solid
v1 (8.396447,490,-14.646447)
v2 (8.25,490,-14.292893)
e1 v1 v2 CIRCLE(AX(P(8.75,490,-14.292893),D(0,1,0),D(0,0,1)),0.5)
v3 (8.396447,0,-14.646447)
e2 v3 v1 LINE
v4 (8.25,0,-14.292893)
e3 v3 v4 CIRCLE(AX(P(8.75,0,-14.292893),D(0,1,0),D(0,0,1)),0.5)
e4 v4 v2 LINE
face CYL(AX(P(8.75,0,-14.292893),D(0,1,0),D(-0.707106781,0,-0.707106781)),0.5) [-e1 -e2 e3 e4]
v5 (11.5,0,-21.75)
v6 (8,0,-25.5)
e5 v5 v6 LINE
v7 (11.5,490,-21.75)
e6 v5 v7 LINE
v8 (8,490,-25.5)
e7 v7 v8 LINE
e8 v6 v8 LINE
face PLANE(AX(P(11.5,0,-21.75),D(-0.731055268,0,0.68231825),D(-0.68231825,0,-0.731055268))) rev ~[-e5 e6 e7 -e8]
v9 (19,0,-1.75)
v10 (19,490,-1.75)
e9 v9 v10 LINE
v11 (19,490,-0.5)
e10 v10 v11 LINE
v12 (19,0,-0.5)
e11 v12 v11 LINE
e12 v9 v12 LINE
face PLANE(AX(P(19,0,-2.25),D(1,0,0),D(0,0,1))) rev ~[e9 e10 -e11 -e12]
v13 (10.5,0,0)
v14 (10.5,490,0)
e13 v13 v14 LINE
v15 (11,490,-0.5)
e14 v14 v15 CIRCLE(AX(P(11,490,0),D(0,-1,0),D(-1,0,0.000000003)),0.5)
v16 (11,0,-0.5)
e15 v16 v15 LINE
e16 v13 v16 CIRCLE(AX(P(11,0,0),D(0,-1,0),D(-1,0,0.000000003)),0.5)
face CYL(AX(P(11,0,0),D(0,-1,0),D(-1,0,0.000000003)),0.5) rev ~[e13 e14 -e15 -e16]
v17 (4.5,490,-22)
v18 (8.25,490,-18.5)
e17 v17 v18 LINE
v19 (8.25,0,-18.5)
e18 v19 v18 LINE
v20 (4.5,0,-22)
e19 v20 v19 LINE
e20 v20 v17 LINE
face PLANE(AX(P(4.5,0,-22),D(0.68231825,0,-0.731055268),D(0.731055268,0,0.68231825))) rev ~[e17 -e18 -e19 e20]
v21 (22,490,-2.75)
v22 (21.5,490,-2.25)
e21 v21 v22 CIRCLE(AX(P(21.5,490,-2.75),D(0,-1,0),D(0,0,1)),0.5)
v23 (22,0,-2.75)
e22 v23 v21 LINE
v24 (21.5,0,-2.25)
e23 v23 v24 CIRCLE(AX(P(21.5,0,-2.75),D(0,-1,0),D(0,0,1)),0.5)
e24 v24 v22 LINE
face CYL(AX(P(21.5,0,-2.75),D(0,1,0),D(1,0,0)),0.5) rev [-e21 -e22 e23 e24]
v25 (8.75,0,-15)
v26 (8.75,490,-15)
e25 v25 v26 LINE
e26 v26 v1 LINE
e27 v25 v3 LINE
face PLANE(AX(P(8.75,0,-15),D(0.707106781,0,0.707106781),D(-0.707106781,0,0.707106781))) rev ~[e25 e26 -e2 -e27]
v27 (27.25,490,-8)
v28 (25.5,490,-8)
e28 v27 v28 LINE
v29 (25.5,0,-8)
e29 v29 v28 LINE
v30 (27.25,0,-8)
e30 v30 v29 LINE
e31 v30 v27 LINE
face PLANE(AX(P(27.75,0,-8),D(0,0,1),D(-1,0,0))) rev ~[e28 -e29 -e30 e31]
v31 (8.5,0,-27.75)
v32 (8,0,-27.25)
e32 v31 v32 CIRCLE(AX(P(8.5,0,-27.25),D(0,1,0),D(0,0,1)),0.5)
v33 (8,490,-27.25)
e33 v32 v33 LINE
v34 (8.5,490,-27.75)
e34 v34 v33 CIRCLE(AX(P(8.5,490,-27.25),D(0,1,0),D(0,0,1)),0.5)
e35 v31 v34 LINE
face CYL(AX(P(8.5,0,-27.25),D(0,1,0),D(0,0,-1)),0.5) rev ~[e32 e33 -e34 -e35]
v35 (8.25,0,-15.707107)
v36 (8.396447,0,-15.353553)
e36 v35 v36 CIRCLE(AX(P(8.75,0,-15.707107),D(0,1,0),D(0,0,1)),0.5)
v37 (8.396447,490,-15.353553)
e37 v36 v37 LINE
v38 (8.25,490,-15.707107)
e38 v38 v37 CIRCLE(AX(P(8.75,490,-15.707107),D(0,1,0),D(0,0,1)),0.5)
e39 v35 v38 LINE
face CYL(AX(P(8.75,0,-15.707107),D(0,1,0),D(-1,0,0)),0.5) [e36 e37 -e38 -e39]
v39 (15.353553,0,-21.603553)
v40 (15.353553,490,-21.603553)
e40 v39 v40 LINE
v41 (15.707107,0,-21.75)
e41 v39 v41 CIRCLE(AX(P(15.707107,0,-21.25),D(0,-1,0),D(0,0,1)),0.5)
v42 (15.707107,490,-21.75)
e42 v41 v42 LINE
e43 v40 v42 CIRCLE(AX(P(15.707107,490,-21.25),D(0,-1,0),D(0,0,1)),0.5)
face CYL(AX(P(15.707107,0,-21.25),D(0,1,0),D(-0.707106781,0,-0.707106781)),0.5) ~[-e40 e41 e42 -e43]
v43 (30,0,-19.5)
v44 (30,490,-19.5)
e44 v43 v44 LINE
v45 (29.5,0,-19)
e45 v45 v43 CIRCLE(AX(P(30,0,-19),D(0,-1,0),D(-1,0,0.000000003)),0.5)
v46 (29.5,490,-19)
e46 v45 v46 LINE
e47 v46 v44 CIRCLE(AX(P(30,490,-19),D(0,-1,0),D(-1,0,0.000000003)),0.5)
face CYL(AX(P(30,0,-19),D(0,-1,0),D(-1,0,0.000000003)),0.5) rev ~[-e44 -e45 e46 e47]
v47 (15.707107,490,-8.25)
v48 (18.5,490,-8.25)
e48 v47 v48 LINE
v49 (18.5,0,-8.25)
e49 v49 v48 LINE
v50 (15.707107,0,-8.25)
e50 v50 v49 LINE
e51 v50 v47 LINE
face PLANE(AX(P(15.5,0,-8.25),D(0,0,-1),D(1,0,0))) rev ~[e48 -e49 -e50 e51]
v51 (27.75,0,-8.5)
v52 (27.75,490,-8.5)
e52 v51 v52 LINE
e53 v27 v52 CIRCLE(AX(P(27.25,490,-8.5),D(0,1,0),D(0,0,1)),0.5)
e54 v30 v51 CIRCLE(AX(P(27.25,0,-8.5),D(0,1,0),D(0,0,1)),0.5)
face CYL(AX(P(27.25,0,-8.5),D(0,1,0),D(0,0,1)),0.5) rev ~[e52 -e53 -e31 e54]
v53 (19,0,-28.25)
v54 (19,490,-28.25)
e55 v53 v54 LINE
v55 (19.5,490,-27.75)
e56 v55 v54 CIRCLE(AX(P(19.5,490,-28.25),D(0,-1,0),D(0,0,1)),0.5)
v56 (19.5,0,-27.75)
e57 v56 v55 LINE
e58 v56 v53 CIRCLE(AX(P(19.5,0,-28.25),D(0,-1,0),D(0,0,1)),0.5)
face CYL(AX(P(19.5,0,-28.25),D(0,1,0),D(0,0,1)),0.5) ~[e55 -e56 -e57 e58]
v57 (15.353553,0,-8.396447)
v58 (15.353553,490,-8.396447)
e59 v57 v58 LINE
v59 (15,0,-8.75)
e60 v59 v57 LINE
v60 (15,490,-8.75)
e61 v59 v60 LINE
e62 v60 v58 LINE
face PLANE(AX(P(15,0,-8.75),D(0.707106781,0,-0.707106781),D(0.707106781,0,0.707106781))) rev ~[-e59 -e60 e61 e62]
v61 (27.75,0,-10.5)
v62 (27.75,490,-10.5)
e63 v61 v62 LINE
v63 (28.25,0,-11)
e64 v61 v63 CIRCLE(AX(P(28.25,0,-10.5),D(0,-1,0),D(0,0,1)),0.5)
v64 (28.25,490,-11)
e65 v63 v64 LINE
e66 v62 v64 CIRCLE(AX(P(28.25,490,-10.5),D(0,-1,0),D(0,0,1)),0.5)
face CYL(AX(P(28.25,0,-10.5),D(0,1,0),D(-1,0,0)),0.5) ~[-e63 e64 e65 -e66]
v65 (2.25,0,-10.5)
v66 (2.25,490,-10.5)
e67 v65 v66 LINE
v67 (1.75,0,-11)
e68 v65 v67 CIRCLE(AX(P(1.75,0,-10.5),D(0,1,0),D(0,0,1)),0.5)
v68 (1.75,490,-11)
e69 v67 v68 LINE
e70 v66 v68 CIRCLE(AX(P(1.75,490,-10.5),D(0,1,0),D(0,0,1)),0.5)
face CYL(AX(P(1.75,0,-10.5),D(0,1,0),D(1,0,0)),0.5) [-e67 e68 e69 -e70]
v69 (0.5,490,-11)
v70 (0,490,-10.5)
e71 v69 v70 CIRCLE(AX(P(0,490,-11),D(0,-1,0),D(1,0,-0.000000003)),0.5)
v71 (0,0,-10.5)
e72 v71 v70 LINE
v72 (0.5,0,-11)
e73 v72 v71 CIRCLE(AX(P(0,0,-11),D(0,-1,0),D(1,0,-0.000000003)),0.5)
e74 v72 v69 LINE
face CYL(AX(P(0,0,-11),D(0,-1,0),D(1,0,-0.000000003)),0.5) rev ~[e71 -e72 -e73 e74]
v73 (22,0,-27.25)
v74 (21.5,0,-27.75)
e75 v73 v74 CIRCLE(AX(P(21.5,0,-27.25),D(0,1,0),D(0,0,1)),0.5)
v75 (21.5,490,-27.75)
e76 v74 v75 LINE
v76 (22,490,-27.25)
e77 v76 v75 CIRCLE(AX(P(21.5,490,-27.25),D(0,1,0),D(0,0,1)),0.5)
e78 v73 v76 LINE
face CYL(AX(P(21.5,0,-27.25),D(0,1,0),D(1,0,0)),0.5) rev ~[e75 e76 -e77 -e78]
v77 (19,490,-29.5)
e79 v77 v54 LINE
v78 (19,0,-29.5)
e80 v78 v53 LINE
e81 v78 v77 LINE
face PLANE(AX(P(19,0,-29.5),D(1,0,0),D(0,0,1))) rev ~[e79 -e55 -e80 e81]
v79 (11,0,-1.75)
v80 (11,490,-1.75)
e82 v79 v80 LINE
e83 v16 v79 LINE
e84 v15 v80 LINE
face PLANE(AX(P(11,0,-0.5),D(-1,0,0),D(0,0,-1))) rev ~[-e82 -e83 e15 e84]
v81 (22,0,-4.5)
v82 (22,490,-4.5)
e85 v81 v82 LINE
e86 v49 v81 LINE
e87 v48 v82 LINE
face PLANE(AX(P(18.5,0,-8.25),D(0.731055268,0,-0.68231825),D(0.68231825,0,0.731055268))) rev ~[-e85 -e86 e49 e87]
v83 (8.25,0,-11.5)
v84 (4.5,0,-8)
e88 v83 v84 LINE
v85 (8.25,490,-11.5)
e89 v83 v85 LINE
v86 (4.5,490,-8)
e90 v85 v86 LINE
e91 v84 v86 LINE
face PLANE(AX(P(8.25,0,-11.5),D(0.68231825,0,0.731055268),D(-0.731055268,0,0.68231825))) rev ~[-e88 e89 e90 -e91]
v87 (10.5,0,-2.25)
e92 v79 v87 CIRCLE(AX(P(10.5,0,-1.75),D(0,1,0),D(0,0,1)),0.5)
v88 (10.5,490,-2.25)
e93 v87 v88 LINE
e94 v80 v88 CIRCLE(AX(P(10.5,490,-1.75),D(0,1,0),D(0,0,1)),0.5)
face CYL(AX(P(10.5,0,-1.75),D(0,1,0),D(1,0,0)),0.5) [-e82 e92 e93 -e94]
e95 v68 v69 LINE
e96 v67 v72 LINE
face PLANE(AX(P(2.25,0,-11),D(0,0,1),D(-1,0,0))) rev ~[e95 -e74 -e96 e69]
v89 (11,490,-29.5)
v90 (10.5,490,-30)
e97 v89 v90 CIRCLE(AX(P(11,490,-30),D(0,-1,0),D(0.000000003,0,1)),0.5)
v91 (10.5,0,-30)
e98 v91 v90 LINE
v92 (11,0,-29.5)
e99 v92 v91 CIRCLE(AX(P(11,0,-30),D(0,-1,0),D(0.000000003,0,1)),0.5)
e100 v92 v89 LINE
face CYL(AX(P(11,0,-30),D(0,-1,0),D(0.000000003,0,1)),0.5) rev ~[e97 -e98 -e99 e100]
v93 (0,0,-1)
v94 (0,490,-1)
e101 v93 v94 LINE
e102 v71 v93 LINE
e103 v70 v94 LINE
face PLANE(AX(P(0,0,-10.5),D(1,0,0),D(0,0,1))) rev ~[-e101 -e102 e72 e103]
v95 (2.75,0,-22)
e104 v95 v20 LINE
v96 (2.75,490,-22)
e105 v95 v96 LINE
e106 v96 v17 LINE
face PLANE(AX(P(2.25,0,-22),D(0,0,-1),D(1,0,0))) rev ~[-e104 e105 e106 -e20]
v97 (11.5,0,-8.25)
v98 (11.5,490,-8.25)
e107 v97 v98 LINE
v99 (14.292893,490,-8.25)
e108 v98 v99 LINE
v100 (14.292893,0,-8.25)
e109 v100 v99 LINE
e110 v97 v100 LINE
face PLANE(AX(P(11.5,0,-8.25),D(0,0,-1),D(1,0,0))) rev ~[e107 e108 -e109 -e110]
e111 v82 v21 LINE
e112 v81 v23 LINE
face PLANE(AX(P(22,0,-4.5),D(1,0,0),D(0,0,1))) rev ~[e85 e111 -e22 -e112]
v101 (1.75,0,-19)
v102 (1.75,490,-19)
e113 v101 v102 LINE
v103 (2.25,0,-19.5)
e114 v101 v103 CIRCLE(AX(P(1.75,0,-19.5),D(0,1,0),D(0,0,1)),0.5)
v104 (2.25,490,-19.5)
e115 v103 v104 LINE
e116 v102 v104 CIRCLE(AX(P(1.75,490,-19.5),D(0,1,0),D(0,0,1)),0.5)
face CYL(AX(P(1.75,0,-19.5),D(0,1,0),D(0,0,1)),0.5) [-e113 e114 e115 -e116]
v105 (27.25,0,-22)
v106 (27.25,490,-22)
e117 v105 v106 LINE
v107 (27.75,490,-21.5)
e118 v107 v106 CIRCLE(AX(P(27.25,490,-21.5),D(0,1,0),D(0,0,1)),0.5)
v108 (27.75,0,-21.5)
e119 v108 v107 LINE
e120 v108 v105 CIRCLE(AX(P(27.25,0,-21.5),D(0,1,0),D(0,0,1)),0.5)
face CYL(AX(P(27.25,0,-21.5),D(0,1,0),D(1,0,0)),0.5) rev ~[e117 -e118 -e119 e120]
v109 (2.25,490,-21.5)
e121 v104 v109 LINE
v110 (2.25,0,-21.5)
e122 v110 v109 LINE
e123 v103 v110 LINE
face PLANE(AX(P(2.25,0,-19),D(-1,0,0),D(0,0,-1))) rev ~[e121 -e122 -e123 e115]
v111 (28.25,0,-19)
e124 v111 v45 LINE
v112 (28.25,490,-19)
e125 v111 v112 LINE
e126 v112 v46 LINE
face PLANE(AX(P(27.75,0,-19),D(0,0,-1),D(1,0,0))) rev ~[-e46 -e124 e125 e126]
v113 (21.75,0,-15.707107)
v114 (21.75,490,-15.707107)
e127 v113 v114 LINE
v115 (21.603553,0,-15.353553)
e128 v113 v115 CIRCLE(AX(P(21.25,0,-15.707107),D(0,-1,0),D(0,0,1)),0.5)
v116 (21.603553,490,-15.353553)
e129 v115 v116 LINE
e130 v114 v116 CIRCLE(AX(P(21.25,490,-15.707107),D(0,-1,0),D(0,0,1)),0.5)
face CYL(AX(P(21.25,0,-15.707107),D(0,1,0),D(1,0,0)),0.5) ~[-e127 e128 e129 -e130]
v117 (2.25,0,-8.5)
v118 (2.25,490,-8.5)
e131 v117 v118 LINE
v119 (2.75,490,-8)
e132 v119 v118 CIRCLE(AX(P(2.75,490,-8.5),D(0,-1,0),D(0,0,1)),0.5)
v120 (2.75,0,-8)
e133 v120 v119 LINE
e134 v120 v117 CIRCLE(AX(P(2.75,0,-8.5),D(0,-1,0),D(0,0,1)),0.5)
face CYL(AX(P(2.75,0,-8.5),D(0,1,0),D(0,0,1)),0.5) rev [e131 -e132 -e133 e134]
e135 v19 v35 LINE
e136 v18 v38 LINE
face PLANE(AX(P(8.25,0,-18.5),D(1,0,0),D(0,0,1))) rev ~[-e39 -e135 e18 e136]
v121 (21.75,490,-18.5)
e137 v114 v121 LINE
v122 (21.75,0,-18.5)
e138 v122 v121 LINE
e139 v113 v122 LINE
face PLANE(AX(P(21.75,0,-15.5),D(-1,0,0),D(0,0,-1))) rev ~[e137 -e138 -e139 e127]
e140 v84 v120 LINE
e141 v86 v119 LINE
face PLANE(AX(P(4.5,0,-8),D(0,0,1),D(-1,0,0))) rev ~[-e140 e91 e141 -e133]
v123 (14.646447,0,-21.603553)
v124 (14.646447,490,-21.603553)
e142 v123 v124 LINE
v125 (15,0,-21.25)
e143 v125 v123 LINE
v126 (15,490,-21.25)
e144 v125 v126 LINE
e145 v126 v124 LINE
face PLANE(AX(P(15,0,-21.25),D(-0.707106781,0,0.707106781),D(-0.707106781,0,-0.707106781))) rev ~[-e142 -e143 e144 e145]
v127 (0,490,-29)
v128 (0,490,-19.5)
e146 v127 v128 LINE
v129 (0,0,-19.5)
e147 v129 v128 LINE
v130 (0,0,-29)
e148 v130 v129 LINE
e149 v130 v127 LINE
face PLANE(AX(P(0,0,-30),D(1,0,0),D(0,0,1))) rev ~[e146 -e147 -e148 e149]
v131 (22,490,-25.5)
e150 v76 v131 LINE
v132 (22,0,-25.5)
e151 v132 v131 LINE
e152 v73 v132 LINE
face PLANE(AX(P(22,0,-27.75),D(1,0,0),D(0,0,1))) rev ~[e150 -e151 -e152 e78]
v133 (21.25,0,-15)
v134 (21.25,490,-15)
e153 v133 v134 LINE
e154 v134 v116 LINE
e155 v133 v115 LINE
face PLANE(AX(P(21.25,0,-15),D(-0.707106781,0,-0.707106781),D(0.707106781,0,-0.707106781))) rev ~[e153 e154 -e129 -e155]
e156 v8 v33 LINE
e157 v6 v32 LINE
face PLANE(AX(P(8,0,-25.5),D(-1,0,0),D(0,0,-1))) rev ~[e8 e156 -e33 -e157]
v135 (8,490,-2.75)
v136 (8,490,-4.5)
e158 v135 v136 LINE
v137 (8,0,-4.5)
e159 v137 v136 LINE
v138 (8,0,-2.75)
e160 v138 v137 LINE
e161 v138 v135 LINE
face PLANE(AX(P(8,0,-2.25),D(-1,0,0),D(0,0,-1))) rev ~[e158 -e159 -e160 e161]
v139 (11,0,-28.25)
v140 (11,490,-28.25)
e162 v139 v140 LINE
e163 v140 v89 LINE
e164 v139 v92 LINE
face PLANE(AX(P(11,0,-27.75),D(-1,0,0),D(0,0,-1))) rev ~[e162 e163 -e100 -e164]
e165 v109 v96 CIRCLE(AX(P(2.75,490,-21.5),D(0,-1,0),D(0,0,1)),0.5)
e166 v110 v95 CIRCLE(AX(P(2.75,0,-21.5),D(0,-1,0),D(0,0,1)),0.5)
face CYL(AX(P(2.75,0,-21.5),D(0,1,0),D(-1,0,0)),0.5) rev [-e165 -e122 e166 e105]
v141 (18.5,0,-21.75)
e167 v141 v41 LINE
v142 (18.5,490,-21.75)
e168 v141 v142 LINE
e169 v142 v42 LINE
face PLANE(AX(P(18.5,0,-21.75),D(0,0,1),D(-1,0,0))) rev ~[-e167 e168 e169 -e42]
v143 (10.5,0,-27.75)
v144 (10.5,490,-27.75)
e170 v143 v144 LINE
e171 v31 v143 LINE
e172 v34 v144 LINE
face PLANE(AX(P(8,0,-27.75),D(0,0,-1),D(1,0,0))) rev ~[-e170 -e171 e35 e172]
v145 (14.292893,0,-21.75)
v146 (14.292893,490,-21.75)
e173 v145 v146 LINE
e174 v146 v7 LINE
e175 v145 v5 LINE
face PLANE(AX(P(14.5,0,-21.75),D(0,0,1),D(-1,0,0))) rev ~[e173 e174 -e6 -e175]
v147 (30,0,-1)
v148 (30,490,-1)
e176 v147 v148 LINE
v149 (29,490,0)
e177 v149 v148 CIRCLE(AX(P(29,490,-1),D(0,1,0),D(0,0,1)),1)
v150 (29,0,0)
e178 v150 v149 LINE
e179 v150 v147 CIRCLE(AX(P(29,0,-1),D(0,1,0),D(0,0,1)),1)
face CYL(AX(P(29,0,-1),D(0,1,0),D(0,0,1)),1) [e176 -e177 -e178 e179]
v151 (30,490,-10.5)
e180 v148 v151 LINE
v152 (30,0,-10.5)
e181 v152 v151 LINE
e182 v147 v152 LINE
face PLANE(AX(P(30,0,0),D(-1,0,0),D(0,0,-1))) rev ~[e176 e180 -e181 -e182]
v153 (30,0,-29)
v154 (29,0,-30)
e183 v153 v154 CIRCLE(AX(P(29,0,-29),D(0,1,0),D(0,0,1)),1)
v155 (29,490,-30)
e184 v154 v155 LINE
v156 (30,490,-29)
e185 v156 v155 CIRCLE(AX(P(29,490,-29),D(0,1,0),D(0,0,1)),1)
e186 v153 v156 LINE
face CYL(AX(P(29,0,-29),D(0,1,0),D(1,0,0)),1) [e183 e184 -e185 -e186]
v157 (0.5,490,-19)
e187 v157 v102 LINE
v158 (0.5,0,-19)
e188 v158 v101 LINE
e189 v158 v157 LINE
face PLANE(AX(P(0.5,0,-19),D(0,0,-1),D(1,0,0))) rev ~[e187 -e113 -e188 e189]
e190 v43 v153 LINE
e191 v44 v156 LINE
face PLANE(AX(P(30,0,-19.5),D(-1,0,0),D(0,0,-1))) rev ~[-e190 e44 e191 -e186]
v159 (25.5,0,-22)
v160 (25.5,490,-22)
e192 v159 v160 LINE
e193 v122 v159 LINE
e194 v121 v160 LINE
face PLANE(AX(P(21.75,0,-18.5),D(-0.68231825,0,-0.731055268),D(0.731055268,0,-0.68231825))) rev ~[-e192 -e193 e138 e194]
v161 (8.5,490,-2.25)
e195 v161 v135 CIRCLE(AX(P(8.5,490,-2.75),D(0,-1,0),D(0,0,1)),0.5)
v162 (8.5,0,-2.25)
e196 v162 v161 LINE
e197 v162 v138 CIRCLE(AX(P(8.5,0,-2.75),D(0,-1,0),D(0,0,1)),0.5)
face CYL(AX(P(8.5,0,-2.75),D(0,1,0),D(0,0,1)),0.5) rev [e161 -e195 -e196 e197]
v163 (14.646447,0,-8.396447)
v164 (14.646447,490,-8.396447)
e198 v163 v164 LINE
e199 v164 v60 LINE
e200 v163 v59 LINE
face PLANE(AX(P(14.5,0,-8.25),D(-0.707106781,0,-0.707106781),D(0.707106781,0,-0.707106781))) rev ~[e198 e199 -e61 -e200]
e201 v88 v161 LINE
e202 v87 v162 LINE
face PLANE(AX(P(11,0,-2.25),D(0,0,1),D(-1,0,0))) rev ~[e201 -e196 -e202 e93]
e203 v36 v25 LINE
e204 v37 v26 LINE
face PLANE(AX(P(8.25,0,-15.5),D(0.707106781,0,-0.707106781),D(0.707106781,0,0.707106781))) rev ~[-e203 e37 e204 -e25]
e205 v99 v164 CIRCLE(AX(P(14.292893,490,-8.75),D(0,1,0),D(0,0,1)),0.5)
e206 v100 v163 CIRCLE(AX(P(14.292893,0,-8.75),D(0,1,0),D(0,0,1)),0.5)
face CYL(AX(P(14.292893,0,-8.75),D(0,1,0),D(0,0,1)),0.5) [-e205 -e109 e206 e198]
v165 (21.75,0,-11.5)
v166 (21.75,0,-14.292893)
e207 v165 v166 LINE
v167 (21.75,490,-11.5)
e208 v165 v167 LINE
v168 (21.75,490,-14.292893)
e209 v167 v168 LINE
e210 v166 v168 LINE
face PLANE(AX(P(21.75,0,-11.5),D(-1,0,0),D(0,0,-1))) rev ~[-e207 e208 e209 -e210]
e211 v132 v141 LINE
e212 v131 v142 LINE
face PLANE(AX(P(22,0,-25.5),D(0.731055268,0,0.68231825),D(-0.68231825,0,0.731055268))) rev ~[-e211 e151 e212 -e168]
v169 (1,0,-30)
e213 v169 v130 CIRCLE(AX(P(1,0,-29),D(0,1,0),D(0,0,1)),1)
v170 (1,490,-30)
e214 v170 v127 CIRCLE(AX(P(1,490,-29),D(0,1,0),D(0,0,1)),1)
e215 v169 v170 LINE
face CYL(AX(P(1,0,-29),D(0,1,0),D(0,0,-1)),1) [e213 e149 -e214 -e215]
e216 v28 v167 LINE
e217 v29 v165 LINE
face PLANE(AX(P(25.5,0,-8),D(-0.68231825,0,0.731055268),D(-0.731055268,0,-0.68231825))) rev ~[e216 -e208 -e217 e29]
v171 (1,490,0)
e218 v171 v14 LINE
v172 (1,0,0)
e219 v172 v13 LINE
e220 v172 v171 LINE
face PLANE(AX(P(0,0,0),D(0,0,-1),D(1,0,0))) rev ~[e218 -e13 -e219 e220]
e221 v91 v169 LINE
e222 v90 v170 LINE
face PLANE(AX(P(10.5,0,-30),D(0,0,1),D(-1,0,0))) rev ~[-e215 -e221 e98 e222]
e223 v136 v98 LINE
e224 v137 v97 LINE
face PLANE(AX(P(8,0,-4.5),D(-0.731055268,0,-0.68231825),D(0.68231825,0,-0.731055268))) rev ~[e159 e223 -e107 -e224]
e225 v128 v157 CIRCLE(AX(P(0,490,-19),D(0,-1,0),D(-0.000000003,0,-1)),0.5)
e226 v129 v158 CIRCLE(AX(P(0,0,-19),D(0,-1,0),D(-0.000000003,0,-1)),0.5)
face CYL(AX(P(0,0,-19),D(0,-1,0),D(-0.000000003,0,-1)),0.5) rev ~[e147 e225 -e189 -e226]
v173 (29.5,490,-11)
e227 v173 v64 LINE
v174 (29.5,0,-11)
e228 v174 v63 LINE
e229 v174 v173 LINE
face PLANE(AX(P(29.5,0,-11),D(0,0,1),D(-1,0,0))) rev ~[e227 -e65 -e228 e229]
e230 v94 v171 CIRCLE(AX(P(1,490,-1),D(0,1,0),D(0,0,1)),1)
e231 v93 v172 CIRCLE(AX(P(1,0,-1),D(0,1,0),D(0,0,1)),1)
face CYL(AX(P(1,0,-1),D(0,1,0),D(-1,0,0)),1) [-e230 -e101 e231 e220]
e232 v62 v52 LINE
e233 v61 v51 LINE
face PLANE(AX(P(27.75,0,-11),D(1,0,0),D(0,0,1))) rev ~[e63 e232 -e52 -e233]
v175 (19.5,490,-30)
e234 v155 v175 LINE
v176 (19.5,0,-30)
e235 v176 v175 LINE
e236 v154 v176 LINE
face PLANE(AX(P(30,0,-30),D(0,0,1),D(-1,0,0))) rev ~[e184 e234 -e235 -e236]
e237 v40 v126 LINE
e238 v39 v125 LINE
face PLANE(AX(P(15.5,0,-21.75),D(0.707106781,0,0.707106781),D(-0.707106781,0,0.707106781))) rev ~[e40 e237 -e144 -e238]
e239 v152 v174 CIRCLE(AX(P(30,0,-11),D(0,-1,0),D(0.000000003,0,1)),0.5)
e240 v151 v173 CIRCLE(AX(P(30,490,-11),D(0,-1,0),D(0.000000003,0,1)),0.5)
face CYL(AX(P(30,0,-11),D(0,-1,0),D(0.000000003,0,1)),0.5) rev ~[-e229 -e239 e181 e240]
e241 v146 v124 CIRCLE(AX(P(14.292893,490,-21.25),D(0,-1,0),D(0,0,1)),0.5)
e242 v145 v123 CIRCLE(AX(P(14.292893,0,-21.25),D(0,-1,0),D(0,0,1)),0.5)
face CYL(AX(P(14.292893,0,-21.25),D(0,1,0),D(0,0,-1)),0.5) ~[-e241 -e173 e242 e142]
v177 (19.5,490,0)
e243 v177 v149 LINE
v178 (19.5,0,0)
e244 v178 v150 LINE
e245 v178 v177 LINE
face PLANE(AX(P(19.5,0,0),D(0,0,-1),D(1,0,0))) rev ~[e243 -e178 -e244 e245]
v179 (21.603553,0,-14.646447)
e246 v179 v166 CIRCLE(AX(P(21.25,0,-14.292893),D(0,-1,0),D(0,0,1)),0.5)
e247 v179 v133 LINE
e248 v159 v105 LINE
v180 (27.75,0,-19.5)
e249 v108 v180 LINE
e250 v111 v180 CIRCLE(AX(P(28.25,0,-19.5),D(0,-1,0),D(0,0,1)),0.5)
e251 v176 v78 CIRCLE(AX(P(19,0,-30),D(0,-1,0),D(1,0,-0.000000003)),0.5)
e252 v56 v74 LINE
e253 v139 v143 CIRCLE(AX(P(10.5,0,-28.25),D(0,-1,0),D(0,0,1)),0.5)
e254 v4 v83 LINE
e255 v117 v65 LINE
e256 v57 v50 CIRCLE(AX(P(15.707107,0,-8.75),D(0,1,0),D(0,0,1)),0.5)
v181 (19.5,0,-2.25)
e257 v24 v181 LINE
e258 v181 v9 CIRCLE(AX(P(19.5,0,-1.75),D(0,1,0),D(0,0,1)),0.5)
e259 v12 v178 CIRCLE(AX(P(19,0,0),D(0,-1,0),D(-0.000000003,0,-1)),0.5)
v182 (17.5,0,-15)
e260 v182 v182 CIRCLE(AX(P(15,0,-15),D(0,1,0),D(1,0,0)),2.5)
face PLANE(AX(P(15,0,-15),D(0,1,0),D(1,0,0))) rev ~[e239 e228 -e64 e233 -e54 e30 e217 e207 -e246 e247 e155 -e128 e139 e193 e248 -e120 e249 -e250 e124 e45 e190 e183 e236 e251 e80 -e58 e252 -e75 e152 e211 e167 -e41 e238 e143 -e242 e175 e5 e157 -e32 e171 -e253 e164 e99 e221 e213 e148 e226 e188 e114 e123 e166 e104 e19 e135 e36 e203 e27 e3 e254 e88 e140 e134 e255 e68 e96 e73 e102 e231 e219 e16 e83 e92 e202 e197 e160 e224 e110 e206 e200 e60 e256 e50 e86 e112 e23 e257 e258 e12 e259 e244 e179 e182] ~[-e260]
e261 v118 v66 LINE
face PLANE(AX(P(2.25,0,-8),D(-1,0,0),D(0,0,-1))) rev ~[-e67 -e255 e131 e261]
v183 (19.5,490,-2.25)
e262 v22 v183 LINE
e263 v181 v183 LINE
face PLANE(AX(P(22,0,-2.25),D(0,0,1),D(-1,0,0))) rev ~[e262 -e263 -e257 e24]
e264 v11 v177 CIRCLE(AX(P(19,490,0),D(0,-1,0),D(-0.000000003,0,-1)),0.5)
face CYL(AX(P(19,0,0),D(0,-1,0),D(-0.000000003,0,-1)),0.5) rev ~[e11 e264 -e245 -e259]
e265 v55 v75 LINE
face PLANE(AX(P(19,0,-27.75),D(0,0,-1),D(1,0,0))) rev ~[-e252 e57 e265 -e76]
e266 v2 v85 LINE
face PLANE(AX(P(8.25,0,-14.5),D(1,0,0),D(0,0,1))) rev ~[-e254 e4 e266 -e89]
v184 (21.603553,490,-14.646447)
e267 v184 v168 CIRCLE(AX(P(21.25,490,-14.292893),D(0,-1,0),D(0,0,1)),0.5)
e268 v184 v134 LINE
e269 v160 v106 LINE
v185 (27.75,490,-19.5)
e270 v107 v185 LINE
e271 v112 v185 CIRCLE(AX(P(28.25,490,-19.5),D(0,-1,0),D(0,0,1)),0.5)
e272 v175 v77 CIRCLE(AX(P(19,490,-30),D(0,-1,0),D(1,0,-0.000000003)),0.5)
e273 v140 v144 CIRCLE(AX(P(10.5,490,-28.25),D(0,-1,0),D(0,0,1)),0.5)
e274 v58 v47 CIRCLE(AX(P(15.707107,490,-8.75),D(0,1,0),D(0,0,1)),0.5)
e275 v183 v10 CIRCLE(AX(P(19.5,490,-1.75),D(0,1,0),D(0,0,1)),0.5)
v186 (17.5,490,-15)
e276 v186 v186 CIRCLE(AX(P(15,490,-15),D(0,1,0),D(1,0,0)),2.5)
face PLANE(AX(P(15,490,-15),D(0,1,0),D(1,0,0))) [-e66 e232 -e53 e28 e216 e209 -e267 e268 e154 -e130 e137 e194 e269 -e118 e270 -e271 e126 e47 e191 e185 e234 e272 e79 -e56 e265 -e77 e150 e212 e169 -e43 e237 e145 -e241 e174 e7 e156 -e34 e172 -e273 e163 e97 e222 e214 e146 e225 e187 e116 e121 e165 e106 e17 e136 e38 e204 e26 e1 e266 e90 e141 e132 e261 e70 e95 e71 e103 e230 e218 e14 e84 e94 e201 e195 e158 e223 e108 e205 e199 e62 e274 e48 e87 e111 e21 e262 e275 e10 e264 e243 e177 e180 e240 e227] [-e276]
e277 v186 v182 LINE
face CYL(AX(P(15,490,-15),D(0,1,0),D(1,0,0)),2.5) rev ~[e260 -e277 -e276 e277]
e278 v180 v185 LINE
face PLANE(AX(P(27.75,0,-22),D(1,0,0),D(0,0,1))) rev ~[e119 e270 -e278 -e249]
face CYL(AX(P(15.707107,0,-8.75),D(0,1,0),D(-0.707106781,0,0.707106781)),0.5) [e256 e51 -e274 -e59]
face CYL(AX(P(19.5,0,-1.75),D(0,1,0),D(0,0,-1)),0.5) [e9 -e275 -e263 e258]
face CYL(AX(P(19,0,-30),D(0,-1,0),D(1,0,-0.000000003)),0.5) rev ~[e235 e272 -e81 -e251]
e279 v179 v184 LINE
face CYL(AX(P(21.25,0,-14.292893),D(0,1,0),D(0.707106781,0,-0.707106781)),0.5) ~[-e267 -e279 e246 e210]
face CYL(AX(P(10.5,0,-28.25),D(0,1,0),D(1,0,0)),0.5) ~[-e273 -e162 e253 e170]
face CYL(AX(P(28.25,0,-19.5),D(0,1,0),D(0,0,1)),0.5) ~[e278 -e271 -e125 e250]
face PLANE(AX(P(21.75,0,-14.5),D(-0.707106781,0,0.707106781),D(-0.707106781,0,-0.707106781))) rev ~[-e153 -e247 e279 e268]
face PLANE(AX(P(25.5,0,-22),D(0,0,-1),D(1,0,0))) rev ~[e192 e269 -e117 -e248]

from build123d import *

# Parameters (mm, degrees)
BOSS_EXTRUDE1_DEPTH = 490
FILLET1_R           = 1
SKETCH4_R           = 2.5
CUT_EXTRUDE1_DEPTH  = 491
FILLET2_R           = 0.5


with BuildPart() as part:
    # Sketch3 → Boss-Extrude1 (new body)
    with BuildSketch(Plane(origin=(0, 0, 0), x_dir=(1, 0, 0), z_dir=(0, 1, 0))):
        with BuildLine():
            Line((11, 27.75), (11, 29.5))
            ThreePointArc((11, 29.5), (10.646446609, 29.646446609), (10.5, 30))
            Line((10.5, 30), (0, 30))
            Line((0, 30), (0, 19.5))
            ThreePointArc((0, 19.5), (0.353553391, 19.353553391), (0.5, 19))
            Line((0.5, 19), (2.25, 19))
            Line((2.25, 19), (2.25, 22))
            Line((2.25, 22), (4.5, 22))
            Line((4.5, 22), (8.25, 18.5))
            Line((8.25, 18.5), (8.25, 15.5))
            Line((8.25, 15.5), (8.75, 15))
            Line((8.75, 15), (8.25, 14.5))
            Line((8.25, 14.5), (8.25, 11.5))
            Line((8.25, 11.5), (4.5, 8))
            Line((4.5, 8), (2.25, 8))
            Line((2.25, 8), (2.25, 11))
            Line((2.25, 11), (0.5, 11))
            ThreePointArc((0.5, 11), (0.353553391, 10.646446609), (0, 10.5))
            Line((0, 10.5), (0, 0))
            Line((0, 0), (10.5, 0))
            ThreePointArc((10.5, 0), (10.646446609, 0.353553391), (11, 0.5))
            Line((11, 0.5), (11, 2.25))
            Line((11, 2.25), (8, 2.25))
            Line((8, 2.25), (8, 4.5))
            Line((8, 4.5), (11.5, 8.25))
            Line((11.5, 8.25), (14.5, 8.25))
            Line((14.5, 8.25), (15, 8.75))
            Line((15, 8.75), (15.5, 8.25))
            Line((15.5, 8.25), (18.5, 8.25))
            Line((18.5, 8.25), (22, 4.5))
            Line((22, 4.5), (22, 2.25))
            Line((22, 2.25), (19, 2.25))
            Line((19, 2.25), (19, 0.5))
            ThreePointArc((19, 0.5), (19.353553391, 0.353553391), (19.5, 0))
            Line((19.5, 0), (30, 0))
            Line((30, 0), (30, 10.5))
            ThreePointArc((30, 10.5), (29.646446609, 10.646446609), (29.5, 11))
            Line((29.5, 11), (27.75, 11))
            Line((27.75, 11), (27.75, 8))
            Line((27.75, 8), (25.5, 8))
            Line((25.5, 8), (21.75, 11.5))
            Line((21.75, 11.5), (21.75, 14.5))
            Line((21.75, 14.5), (21.25, 15))
            Line((21.25, 15), (21.75, 15.5))
            Line((21.75, 15.5), (21.75, 18.5))
            Line((21.75, 18.5), (25.5, 22))
            Line((25.5, 22), (27.75, 22))
            Line((27.75, 22), (27.75, 19))
            Line((27.75, 19), (29.5, 19))
            ThreePointArc((29.5, 19), (29.646446609, 19.353553391), (30, 19.5))
            Line((30, 19.5), (30, 30))
            Line((30, 30), (19.5, 30))
            ThreePointArc((19.5, 30), (19.353553391, 29.646446609), (19, 29.5))
            Line((19, 29.5), (19, 27.75))
            Line((19, 27.75), (22, 27.75))
            Line((22, 27.75), (22, 25.5))
            Line((22, 25.5), (18.5, 21.75))
            Line((18.5, 21.75), (15.5, 21.75))
            Line((15.5, 21.75), (15, 21.25))
            Line((15, 21.25), (14.5, 21.75))
            Line((14.5, 21.75), (11.5, 21.75))
            Line((11.5, 21.75), (8, 25.5))
            Line((8, 25.5), (8, 27.75))
            Line((8, 27.75), (11, 27.75))
        make_face()
    extrude(amount=BOSS_EXTRUDE1_DEPTH)

    # Fillet1
    fillet1_edges = [part.edges().sort_by_distance(p)[0] for p in [
        (30, 245, 0),
        (0, 245, 0),
        (0, 245, -30),
        (30, 245, -30),
    ]]
    fillet(fillet1_edges, radius=FILLET1_R)

    # Sketch4 → Cut-Extrude1 (cut, through all)
    with BuildSketch(Plane(origin=(0, 490, 0), x_dir=(1, 0, 0), z_dir=(0, 1, 0))):
        with Locations((15, 15)):
            Circle(SKETCH4_R)
    extrude(amount=-CUT_EXTRUDE1_DEPTH, mode=Mode.SUBTRACT)

    # Fillet2
    fillet2_edges = [part.edges().sort_by_distance(p)[0] for p in [
        (27.75, 245, -19),
        (27.75, 245, -22),
        (21.75, 245, -15.5),
        (21.75, 245, -14.5),
        (27.75, 245, -8),
        (27.75, 245, -11),
        (19, 245, -2.25),
        (22, 245, -2.25),
        (15.5, 245, -8.25),
        (14.5, 245, -8.25),
        (8, 245, -2.25),
        (11, 245, -2.25),
        (2.25, 245, -11),
        (2.25, 245, -8),
        (8.25, 245, -14.5),
        (8.25, 245, -15.5),
        (2.25, 245, -22),
        (2.25, 245, -19),
        (11, 245, -27.75),
        (8, 245, -27.75),
        (14.5, 245, -21.75),
        (15.5, 245, -21.75),
        (22, 245, -27.75),
        (19, 245, -27.75),
    ]]
    fillet(fillet2_edges, radius=FILLET2_R)


solid = part.part
